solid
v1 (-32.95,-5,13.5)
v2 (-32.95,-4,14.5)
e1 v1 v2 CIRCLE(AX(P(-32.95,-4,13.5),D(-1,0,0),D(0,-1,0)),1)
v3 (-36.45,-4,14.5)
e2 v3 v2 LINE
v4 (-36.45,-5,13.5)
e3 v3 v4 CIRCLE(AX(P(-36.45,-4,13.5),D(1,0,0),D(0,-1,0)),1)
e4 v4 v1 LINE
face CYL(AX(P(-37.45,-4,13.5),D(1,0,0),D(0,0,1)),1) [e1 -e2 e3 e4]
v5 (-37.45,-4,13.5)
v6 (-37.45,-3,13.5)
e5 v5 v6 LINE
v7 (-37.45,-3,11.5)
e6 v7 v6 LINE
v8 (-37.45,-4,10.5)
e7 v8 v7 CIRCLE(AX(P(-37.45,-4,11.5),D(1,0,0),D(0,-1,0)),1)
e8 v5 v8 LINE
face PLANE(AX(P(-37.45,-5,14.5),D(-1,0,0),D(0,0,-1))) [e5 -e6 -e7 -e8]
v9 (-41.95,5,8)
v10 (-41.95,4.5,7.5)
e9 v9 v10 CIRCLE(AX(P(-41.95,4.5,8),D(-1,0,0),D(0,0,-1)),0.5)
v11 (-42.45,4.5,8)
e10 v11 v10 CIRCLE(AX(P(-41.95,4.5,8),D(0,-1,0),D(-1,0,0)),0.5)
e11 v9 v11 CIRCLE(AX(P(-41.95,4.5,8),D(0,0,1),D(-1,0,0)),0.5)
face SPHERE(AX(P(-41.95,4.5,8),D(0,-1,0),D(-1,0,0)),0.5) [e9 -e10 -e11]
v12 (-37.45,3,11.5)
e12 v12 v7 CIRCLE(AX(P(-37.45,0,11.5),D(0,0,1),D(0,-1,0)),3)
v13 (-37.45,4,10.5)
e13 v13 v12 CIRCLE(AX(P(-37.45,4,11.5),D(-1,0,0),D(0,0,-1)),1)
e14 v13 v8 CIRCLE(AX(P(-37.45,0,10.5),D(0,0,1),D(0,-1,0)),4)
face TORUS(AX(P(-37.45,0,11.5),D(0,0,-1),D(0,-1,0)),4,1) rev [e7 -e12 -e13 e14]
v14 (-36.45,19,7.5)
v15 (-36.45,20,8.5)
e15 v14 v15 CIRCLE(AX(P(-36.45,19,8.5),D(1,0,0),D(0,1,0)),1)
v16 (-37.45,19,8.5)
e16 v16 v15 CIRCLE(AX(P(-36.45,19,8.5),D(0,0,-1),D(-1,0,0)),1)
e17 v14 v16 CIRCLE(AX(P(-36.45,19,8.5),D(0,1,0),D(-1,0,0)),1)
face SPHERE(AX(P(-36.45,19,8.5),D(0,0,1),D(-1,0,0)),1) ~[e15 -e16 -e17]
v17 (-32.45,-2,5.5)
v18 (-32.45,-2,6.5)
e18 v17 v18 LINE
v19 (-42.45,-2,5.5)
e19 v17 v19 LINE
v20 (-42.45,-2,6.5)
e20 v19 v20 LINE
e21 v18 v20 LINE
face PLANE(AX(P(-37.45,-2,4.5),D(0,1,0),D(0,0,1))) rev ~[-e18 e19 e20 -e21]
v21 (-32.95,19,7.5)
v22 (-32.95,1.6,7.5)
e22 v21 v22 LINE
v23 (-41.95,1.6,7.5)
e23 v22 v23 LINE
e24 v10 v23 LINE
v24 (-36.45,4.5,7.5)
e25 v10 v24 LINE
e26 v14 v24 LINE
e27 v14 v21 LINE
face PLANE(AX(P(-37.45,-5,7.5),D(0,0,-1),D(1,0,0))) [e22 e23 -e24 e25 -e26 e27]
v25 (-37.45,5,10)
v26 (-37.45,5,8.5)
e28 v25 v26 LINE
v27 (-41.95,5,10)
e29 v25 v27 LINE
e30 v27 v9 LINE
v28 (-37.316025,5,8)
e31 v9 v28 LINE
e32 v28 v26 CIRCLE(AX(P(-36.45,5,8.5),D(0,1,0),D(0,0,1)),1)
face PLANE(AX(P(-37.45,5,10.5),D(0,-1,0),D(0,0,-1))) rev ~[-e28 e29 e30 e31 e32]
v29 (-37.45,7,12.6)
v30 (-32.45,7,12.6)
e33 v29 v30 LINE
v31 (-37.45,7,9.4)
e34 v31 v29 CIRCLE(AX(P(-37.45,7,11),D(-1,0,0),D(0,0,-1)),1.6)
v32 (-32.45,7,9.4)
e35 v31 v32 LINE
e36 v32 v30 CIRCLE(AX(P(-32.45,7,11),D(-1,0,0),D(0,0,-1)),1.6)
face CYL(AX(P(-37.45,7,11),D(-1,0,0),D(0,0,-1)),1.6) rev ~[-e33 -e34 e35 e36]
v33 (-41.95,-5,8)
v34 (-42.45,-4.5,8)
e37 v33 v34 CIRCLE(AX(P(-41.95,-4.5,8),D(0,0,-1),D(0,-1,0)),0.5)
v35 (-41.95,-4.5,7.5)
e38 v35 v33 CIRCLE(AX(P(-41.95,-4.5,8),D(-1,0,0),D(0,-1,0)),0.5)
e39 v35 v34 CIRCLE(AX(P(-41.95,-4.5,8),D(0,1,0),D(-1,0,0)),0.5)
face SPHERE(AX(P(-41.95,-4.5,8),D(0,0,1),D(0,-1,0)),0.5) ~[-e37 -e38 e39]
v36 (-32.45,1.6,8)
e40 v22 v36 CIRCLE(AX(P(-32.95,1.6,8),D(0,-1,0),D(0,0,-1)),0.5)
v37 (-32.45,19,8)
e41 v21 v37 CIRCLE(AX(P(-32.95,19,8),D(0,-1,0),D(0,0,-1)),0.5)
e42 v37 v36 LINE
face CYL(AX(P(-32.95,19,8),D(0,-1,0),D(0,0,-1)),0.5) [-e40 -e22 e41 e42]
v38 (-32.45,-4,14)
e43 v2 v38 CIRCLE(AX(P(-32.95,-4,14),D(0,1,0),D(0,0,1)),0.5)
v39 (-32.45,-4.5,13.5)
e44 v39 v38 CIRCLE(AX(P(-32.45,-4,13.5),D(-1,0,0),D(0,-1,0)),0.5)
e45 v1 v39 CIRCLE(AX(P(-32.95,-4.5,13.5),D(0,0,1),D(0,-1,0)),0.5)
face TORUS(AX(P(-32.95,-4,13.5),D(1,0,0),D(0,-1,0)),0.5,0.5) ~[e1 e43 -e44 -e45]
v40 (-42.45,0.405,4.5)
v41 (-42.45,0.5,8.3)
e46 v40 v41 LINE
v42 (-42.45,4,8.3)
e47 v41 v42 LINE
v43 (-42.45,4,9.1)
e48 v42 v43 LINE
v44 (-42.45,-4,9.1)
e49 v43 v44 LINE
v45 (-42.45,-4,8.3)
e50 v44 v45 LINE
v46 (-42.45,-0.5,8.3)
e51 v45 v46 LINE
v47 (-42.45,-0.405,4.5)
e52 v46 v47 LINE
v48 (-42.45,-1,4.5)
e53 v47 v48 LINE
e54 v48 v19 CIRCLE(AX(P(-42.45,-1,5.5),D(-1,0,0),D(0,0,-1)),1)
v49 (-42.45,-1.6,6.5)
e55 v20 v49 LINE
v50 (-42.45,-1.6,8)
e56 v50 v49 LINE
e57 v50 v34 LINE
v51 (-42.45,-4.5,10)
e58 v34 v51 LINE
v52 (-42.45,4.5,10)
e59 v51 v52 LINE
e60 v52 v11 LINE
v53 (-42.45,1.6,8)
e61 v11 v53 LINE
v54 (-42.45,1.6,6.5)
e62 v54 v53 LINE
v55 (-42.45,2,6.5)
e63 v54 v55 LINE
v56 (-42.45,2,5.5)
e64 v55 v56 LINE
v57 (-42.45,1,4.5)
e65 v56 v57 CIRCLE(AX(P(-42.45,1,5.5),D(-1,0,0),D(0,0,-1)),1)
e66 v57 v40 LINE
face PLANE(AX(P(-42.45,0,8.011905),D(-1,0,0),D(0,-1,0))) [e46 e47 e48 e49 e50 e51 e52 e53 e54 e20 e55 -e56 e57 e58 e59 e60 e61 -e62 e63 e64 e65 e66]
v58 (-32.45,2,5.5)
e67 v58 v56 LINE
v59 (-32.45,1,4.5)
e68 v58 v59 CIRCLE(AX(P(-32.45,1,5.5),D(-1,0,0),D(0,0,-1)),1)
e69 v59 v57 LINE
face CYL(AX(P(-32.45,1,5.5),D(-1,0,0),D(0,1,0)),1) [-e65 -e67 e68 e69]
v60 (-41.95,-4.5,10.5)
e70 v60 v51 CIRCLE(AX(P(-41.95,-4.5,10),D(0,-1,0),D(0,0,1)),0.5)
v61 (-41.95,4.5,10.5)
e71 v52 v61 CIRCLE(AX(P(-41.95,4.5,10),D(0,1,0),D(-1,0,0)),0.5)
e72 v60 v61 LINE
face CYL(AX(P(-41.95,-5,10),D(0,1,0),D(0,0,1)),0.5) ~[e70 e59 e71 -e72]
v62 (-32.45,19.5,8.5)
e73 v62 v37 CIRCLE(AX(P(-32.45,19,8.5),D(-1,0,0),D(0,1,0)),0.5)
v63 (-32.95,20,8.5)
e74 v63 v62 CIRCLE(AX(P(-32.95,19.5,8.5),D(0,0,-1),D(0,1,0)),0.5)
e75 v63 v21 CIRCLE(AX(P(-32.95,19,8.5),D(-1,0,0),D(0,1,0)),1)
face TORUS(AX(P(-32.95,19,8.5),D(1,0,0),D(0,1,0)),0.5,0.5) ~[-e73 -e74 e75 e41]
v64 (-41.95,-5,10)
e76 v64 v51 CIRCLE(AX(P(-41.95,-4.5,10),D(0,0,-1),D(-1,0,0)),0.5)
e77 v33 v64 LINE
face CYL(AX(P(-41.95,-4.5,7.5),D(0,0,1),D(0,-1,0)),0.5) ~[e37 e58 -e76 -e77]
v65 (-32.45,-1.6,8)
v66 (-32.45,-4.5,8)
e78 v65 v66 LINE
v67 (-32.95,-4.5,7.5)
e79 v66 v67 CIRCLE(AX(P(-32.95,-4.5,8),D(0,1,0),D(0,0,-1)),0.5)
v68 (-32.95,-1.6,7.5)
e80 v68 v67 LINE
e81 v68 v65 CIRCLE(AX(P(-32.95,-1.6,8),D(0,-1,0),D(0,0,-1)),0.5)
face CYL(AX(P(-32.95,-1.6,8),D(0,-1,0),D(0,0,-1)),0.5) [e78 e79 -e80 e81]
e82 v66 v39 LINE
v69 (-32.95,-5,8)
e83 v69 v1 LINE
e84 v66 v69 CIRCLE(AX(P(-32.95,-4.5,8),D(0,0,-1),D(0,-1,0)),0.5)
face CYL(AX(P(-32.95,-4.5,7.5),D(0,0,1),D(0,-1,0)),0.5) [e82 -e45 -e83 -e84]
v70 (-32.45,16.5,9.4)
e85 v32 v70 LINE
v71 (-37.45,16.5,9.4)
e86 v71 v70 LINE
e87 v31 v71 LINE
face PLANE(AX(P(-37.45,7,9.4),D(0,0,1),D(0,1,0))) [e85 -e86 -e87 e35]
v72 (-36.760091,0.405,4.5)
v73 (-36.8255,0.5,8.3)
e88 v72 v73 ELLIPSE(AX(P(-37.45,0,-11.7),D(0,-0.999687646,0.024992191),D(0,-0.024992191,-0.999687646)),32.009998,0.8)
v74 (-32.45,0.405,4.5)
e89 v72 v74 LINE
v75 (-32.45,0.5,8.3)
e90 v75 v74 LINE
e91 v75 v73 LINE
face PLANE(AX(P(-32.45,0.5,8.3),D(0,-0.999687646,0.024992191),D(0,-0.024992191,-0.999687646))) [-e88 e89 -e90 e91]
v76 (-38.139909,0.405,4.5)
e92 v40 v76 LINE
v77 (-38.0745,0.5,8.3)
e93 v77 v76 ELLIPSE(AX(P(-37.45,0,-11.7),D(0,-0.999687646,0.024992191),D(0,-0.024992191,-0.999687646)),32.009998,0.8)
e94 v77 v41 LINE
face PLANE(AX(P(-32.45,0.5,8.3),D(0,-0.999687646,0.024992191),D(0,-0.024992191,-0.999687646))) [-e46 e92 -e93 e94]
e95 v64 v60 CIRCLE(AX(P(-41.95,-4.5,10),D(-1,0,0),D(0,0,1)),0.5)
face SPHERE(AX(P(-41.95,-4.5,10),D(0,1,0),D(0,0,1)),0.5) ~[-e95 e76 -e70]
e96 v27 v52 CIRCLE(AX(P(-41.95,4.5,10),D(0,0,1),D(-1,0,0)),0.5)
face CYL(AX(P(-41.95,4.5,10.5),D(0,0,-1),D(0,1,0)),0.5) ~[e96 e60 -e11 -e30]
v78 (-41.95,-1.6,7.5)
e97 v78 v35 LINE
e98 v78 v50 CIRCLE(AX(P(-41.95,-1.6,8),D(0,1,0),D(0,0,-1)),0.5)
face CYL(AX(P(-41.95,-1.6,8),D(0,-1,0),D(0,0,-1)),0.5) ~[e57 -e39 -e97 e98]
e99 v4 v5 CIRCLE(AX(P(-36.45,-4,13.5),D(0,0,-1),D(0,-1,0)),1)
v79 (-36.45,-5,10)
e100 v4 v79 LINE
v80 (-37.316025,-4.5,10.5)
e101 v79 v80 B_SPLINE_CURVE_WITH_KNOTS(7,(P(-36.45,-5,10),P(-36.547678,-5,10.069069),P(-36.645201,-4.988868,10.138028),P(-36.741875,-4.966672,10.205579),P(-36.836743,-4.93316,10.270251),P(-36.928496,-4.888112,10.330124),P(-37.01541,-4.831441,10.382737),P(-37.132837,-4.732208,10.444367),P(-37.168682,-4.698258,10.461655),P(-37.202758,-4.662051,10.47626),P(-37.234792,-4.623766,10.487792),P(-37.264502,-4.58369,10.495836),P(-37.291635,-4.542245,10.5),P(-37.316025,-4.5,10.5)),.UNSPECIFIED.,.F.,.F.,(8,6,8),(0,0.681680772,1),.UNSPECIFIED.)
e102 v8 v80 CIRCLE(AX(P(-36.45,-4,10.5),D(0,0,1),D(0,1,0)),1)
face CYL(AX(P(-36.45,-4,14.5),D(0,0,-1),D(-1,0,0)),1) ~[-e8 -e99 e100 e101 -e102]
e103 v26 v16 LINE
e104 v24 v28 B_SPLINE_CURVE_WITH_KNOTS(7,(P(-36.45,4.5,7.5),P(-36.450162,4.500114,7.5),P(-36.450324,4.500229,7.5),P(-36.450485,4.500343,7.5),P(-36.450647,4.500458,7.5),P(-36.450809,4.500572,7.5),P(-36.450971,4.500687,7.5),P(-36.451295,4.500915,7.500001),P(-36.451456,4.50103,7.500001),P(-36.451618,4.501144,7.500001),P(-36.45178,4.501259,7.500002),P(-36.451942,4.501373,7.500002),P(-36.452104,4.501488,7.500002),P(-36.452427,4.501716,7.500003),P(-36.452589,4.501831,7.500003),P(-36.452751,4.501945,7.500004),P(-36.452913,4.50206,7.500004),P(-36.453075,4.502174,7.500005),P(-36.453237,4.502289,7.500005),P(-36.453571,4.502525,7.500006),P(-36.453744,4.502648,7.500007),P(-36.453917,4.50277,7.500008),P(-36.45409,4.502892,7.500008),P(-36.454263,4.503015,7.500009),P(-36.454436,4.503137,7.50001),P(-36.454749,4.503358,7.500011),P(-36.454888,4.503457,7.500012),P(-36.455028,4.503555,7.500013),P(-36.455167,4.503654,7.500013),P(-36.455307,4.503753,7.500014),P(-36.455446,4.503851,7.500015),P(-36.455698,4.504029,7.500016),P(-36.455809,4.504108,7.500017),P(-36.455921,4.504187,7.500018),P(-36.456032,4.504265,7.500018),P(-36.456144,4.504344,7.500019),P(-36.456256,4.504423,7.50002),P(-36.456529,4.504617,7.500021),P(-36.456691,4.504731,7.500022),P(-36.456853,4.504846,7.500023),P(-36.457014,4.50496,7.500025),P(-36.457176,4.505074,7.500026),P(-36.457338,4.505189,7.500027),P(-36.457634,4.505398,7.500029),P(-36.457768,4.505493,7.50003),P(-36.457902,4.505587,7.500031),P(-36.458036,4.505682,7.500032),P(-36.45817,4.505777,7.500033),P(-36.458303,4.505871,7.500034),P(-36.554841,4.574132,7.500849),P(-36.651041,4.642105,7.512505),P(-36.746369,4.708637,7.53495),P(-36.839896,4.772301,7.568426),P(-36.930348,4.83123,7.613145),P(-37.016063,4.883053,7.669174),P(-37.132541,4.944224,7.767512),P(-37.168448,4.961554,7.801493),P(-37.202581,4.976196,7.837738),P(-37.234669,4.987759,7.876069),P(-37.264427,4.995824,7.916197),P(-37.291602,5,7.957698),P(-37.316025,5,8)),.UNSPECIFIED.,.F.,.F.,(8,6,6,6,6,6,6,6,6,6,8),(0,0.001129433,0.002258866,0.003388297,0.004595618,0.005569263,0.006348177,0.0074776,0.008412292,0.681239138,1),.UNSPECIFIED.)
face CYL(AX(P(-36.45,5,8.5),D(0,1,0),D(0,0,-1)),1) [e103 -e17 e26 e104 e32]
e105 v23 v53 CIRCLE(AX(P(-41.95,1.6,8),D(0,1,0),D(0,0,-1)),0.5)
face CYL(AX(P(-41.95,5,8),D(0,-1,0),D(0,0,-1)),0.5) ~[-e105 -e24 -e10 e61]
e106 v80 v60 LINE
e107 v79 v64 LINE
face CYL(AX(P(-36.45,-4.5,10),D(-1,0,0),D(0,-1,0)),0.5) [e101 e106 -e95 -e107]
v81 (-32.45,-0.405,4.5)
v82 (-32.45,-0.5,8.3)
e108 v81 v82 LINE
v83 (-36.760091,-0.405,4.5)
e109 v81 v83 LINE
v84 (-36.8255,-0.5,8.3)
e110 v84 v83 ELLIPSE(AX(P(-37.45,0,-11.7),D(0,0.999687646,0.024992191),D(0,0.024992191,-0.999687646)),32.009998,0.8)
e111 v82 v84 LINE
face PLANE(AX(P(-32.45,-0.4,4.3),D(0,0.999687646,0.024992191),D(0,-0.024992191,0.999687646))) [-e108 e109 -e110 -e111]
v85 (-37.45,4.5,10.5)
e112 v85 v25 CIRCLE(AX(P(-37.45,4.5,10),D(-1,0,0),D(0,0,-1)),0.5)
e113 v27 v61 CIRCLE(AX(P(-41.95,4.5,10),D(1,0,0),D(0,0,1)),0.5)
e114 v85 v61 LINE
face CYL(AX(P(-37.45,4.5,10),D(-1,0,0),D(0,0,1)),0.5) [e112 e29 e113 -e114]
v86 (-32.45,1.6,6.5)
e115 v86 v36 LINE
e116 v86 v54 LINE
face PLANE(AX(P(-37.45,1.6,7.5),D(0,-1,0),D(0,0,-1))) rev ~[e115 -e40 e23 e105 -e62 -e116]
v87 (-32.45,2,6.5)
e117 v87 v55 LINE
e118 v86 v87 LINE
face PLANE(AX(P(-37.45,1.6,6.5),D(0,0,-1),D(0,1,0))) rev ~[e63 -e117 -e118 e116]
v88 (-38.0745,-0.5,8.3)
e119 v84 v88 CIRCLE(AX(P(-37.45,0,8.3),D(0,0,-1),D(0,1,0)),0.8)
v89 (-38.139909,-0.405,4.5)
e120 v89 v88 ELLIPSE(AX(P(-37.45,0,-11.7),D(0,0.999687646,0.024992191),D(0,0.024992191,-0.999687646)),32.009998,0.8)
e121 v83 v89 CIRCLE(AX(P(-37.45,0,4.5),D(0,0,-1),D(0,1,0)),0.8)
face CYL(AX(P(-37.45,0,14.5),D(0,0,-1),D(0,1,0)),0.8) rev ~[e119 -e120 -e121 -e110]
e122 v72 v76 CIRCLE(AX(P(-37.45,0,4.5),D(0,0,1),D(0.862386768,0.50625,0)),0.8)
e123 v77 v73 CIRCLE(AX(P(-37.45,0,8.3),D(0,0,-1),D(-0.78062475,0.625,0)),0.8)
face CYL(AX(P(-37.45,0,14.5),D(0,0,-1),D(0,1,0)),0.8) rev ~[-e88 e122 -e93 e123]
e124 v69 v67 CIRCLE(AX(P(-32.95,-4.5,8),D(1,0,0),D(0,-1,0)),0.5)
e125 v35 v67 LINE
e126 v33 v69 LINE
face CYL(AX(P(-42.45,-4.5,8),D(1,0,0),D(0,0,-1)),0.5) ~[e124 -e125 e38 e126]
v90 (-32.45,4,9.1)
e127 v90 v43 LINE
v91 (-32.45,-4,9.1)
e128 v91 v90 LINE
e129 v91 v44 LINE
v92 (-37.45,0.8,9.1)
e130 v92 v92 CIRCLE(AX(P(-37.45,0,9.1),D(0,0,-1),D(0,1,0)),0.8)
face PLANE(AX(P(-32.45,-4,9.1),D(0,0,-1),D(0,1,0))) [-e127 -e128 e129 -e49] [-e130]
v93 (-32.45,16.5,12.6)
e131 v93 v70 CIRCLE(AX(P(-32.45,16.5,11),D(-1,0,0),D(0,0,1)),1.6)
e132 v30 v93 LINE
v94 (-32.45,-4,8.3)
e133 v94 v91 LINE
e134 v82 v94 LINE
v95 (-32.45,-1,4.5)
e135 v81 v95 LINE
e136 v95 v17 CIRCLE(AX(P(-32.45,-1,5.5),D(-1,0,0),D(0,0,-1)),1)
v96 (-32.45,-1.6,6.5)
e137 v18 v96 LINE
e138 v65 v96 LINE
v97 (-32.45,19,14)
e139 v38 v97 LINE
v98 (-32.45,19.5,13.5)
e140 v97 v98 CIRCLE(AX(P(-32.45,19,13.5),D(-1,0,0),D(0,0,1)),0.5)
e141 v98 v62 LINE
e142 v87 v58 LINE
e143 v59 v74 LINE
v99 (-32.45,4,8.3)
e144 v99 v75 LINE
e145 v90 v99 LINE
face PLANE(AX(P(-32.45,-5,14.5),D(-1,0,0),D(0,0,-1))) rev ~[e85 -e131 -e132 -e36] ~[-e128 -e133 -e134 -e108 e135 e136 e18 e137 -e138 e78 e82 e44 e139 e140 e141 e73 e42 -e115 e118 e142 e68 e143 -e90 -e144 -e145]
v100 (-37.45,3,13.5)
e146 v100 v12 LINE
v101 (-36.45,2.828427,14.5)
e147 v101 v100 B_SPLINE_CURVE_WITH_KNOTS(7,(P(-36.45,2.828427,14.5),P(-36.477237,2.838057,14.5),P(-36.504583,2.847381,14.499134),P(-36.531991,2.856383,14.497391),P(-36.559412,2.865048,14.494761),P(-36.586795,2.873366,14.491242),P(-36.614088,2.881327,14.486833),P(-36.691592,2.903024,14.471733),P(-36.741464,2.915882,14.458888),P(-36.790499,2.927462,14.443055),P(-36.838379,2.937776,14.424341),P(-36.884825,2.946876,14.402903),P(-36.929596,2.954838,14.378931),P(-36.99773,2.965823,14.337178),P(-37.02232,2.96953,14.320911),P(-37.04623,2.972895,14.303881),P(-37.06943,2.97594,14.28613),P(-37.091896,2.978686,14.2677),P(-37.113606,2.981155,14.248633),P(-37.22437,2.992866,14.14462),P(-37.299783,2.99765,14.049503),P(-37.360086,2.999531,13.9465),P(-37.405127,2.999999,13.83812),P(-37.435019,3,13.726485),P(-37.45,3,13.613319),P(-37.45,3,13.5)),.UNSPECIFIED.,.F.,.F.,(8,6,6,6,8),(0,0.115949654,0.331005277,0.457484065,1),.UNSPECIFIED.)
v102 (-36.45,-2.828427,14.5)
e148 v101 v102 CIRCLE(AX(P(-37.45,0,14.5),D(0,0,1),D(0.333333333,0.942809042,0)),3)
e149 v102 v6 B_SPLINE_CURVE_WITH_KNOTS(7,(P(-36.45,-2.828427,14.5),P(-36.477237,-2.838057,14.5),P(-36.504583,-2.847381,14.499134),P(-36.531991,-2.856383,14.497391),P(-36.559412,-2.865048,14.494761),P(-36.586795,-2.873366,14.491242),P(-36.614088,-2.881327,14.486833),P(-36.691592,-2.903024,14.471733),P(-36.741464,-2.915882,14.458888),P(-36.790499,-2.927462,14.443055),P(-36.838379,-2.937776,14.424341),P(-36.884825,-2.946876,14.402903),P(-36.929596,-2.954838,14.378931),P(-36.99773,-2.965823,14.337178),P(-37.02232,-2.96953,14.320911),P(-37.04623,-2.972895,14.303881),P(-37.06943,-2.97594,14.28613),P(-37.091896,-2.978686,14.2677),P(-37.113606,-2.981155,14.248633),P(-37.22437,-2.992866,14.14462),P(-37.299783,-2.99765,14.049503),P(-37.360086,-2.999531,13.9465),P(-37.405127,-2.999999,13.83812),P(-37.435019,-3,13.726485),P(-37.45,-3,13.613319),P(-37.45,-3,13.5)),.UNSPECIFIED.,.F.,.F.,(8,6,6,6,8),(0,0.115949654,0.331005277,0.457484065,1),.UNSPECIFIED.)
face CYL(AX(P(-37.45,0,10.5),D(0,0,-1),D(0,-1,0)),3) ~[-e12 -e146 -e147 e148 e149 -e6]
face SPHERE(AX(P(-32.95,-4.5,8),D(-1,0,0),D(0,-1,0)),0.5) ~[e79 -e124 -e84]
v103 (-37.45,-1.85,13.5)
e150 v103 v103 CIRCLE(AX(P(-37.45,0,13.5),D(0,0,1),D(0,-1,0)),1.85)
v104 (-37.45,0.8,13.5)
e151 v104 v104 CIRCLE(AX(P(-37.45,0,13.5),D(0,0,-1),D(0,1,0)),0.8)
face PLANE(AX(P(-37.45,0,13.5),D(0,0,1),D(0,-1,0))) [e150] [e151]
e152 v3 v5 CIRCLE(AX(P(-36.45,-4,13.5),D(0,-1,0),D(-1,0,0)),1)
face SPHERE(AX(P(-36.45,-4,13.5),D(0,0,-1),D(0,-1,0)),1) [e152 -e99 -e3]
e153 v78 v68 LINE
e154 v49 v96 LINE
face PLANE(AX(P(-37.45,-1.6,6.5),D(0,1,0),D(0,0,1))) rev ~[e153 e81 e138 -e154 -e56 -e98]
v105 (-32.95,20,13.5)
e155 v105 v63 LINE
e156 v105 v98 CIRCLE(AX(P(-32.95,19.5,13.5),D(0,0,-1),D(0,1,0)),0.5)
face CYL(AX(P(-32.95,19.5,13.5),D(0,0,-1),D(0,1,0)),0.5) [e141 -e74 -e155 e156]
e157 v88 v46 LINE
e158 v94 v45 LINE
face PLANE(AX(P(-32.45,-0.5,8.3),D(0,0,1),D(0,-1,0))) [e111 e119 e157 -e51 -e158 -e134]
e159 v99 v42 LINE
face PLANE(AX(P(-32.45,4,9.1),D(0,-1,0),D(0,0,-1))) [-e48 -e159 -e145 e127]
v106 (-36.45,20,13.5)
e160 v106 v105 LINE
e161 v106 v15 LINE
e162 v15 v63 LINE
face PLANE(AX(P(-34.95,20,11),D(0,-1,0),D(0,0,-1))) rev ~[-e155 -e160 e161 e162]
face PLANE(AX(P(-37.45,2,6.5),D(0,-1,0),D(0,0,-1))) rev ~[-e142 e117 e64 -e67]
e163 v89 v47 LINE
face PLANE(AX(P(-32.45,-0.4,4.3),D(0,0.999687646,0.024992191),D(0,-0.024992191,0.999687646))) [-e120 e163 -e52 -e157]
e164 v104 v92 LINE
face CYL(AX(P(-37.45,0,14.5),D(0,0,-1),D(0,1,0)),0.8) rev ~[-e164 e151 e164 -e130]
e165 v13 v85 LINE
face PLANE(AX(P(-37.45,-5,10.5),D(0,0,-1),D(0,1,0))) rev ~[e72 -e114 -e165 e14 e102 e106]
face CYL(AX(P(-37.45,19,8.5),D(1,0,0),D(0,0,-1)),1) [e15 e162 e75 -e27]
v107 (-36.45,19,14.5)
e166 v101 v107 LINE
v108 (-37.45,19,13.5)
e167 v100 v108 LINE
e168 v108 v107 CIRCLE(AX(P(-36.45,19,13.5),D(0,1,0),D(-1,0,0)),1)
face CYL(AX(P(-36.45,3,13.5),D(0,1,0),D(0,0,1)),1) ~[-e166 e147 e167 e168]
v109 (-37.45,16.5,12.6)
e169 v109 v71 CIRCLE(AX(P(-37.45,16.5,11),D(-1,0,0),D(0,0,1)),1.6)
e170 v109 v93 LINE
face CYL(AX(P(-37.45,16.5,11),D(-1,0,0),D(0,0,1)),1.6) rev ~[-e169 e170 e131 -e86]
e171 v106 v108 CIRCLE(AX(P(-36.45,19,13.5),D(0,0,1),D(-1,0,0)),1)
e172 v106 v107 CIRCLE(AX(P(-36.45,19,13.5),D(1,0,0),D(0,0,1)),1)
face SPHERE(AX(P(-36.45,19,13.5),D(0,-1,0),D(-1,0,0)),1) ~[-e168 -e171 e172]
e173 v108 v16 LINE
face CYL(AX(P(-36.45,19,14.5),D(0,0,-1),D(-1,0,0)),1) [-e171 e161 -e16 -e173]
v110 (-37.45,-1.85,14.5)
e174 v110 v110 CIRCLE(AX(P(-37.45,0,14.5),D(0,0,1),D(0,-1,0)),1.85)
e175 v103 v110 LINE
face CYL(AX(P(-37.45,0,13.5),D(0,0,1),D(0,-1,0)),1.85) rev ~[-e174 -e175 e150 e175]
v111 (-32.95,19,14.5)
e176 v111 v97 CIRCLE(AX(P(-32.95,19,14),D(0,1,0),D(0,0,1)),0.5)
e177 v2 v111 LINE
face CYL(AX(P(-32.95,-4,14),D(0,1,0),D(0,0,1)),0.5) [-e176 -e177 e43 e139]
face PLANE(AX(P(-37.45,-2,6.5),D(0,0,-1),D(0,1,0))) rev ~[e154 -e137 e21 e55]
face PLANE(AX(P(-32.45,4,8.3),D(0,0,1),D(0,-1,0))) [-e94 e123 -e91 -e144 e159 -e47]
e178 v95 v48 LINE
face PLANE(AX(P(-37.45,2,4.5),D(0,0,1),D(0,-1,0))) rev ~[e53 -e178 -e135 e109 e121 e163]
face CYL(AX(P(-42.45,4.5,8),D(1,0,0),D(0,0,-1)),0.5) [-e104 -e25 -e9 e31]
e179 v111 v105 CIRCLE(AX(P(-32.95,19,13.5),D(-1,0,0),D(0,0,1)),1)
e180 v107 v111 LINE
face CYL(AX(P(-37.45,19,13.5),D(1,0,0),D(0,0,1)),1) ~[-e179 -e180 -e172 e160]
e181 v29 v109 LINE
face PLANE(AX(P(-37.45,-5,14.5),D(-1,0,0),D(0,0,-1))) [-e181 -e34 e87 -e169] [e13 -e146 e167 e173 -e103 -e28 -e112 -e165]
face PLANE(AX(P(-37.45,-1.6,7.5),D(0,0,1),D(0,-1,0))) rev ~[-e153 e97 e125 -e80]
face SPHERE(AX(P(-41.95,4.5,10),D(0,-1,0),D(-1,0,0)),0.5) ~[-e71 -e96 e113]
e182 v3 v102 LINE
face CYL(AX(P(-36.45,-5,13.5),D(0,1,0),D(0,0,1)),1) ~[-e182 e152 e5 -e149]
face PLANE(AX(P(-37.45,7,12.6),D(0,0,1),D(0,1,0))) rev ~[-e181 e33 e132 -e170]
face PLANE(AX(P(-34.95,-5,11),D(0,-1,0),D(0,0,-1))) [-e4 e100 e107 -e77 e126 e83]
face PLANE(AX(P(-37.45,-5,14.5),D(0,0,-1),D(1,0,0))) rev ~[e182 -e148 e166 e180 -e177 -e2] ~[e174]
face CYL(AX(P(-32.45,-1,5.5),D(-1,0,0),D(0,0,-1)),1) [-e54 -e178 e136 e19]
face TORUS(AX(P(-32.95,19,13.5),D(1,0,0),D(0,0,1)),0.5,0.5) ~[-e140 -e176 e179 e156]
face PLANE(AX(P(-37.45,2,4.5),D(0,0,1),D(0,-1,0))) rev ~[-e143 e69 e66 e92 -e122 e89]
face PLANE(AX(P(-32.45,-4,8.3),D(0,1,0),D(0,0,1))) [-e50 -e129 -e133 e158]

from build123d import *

# Parameters (mm, degrees)
PAD019_DEPTH        = 5
SKETCH042_R         = 3
PAD023_DEPTH        = 4
FILLET018_R         = 1
SKETCH041_W         = 7
SKETCH041_H         = 5
PAD024_DEPTH        = 25
HOLE007_D           = 1.6
HOLE007_CBORE_D     = 3.7
HOLE007_CBORE_DEPTH = 1
POCKET018_DEPTH     = 5.001
POCKET019_DEPTH     = 10.001
FILLET019_R         = 1
FILLET020_R         = 0.5
FILLET021_R         = 1


with BuildPart() as part:
    # Sketch033 → Pad019 (new body, symmetric)
    with BuildSketch(Plane.YZ):
        Polygon((-5, 7.5), (-5, 10.5), (5, 10.5), (5, 7.5), (1.6, 7.5), (1.6, 6.5), (2, 6.5), (2, 4.5), (-2, 4.5), (-2, 6.5), (-1.6, 6.5), (-1.6, 7.5), align=None)
    extrude(amount=PAD019_DEPTH, both=True)

    # Sketch042 (on Face2 of Pad019) → Pad023 (join)
    with BuildSketch(Plane(origin=(0, 0, 10.5), x_dir=(0, -1, 0), z_dir=(0, 0, 1))):
        Circle(SKETCH042_R)
    extrude(amount=PAD023_DEPTH)

    # Fillet018
    fillet018_edges = [part.edges().sort_by_distance(p)[0] for p in [
        (0, 3, 10.5),
    ]]
    fillet(fillet018_edges, radius=FILLET018_R)

    # Sketch041 (on DatumPlane) → Pad024 (join)
    with BuildSketch(Plane(origin=(0, -5, 0), x_dir=(0, 0, -1), z_dir=(0, -1, 0))):
        with Locations((-11, 2.5)):
            Rectangle(SKETCH041_W, SKETCH041_H)
    extrude(amount=-PAD024_DEPTH)

    # Hole007 (through all)
    with Locations(Plane(origin=(0, 0, 14.5), x_dir=(0, -1, 0), z_dir=(0, 0, 1))):
        with Locations((0, 0)):
            CounterBoreHole(HOLE007_D / 2, HOLE007_CBORE_D / 2, HOLE007_CBORE_DEPTH)

    # Sketch044 (on DatumPlane) → Pocket018 (cut, through all)
    with BuildSketch(Plane(origin=(0, 0, 0), x_dir=(0, 1, 0), z_dir=(-1, 0, 0))):
        with BuildLine():
            ThreePointArc((7, -9.4), (5.4, -11), (7, -12.6))
            Line((7, -12.6), (16.5, -12.6))
            ThreePointArc((16.5, -12.6), (18.1, -11), (16.5, -9.4))
            Line((7, -9.4), (16.5, -9.4))
        make_face()
    extrude(amount=-POCKET018_DEPTH, mode=Mode.SUBTRACT)

    # Sketch034 → Pocket019 (cut, through all)
    with BuildSketch(Plane.YZ.offset(5)):
        Polygon((0.5, 8.3), (0.4, 4.3), (-0.4, 4.3), (-0.5, 8.3), (-4, 8.3), (-4, 9.1), (4, 9.1), (4, 8.3), align=None)
    extrude(amount=-POCKET019_DEPTH, mode=Mode.SUBTRACT)

    # Fillet019
    fillet019_edges = [part.edges().sort_by_distance(p)[0] for p in [
        (0, -5, 12.5),
        (2.5, -5, 14.5),
        (0, 11.5, 14.5),
        (0, -4, 14.5),
        (0, 20, 11),
        (0, 12.5, 7.5),
        (2.5, 20, 14.5),
        (2.5, 20, 7.5),
    ]]
    fillet(fillet019_edges, radius=FILLET019_R)

    # Fillet020
    fillet020_edges = [part.edges().sort_by_distance(p)[0] for p in [
        (-5, 0, 10.5),
        (-2.5, -5, 10.5),
        (0.5, -5, 10.5),
        (-5, -5, 9),
        (0, -5, 7.5),
        (-5, -3.3, 7.5),
        (-5, 3.3, 7.5),
        (-5, 5, 9),
        (-2.5, 5, 10.5),
        (-2.5, 5, 7.5),
        (0.5, 5, 7.5),
        (5, 20, 11),
        (5, 19.707107, 7.792893),
        (5, 10.3, 7.5),
        (5, -3.3, 7.5),
        (5, -5, 10.5),
        (5, -4.707107, 14.207107),
        (5, 7.5, 14.5),
        (5, 19.707107, 14.207107),
    ]]
    fillet(fillet020_edges, radius=FILLET020_R)

    # Fillet021
    fillet021_edges = [part.edges().sort_by_distance(p)[0] for p in [
        (0, -2, 4.5),
        (0, 2, 4.5),
    ]]
    fillet(fillet021_edges, radius=FILLET021_R)


with BuildPart() as part_1:
    # Body004 placement: moved
    add(part.part.moved(Location((-37.45, 0, 0))))


solid = part_1.part
